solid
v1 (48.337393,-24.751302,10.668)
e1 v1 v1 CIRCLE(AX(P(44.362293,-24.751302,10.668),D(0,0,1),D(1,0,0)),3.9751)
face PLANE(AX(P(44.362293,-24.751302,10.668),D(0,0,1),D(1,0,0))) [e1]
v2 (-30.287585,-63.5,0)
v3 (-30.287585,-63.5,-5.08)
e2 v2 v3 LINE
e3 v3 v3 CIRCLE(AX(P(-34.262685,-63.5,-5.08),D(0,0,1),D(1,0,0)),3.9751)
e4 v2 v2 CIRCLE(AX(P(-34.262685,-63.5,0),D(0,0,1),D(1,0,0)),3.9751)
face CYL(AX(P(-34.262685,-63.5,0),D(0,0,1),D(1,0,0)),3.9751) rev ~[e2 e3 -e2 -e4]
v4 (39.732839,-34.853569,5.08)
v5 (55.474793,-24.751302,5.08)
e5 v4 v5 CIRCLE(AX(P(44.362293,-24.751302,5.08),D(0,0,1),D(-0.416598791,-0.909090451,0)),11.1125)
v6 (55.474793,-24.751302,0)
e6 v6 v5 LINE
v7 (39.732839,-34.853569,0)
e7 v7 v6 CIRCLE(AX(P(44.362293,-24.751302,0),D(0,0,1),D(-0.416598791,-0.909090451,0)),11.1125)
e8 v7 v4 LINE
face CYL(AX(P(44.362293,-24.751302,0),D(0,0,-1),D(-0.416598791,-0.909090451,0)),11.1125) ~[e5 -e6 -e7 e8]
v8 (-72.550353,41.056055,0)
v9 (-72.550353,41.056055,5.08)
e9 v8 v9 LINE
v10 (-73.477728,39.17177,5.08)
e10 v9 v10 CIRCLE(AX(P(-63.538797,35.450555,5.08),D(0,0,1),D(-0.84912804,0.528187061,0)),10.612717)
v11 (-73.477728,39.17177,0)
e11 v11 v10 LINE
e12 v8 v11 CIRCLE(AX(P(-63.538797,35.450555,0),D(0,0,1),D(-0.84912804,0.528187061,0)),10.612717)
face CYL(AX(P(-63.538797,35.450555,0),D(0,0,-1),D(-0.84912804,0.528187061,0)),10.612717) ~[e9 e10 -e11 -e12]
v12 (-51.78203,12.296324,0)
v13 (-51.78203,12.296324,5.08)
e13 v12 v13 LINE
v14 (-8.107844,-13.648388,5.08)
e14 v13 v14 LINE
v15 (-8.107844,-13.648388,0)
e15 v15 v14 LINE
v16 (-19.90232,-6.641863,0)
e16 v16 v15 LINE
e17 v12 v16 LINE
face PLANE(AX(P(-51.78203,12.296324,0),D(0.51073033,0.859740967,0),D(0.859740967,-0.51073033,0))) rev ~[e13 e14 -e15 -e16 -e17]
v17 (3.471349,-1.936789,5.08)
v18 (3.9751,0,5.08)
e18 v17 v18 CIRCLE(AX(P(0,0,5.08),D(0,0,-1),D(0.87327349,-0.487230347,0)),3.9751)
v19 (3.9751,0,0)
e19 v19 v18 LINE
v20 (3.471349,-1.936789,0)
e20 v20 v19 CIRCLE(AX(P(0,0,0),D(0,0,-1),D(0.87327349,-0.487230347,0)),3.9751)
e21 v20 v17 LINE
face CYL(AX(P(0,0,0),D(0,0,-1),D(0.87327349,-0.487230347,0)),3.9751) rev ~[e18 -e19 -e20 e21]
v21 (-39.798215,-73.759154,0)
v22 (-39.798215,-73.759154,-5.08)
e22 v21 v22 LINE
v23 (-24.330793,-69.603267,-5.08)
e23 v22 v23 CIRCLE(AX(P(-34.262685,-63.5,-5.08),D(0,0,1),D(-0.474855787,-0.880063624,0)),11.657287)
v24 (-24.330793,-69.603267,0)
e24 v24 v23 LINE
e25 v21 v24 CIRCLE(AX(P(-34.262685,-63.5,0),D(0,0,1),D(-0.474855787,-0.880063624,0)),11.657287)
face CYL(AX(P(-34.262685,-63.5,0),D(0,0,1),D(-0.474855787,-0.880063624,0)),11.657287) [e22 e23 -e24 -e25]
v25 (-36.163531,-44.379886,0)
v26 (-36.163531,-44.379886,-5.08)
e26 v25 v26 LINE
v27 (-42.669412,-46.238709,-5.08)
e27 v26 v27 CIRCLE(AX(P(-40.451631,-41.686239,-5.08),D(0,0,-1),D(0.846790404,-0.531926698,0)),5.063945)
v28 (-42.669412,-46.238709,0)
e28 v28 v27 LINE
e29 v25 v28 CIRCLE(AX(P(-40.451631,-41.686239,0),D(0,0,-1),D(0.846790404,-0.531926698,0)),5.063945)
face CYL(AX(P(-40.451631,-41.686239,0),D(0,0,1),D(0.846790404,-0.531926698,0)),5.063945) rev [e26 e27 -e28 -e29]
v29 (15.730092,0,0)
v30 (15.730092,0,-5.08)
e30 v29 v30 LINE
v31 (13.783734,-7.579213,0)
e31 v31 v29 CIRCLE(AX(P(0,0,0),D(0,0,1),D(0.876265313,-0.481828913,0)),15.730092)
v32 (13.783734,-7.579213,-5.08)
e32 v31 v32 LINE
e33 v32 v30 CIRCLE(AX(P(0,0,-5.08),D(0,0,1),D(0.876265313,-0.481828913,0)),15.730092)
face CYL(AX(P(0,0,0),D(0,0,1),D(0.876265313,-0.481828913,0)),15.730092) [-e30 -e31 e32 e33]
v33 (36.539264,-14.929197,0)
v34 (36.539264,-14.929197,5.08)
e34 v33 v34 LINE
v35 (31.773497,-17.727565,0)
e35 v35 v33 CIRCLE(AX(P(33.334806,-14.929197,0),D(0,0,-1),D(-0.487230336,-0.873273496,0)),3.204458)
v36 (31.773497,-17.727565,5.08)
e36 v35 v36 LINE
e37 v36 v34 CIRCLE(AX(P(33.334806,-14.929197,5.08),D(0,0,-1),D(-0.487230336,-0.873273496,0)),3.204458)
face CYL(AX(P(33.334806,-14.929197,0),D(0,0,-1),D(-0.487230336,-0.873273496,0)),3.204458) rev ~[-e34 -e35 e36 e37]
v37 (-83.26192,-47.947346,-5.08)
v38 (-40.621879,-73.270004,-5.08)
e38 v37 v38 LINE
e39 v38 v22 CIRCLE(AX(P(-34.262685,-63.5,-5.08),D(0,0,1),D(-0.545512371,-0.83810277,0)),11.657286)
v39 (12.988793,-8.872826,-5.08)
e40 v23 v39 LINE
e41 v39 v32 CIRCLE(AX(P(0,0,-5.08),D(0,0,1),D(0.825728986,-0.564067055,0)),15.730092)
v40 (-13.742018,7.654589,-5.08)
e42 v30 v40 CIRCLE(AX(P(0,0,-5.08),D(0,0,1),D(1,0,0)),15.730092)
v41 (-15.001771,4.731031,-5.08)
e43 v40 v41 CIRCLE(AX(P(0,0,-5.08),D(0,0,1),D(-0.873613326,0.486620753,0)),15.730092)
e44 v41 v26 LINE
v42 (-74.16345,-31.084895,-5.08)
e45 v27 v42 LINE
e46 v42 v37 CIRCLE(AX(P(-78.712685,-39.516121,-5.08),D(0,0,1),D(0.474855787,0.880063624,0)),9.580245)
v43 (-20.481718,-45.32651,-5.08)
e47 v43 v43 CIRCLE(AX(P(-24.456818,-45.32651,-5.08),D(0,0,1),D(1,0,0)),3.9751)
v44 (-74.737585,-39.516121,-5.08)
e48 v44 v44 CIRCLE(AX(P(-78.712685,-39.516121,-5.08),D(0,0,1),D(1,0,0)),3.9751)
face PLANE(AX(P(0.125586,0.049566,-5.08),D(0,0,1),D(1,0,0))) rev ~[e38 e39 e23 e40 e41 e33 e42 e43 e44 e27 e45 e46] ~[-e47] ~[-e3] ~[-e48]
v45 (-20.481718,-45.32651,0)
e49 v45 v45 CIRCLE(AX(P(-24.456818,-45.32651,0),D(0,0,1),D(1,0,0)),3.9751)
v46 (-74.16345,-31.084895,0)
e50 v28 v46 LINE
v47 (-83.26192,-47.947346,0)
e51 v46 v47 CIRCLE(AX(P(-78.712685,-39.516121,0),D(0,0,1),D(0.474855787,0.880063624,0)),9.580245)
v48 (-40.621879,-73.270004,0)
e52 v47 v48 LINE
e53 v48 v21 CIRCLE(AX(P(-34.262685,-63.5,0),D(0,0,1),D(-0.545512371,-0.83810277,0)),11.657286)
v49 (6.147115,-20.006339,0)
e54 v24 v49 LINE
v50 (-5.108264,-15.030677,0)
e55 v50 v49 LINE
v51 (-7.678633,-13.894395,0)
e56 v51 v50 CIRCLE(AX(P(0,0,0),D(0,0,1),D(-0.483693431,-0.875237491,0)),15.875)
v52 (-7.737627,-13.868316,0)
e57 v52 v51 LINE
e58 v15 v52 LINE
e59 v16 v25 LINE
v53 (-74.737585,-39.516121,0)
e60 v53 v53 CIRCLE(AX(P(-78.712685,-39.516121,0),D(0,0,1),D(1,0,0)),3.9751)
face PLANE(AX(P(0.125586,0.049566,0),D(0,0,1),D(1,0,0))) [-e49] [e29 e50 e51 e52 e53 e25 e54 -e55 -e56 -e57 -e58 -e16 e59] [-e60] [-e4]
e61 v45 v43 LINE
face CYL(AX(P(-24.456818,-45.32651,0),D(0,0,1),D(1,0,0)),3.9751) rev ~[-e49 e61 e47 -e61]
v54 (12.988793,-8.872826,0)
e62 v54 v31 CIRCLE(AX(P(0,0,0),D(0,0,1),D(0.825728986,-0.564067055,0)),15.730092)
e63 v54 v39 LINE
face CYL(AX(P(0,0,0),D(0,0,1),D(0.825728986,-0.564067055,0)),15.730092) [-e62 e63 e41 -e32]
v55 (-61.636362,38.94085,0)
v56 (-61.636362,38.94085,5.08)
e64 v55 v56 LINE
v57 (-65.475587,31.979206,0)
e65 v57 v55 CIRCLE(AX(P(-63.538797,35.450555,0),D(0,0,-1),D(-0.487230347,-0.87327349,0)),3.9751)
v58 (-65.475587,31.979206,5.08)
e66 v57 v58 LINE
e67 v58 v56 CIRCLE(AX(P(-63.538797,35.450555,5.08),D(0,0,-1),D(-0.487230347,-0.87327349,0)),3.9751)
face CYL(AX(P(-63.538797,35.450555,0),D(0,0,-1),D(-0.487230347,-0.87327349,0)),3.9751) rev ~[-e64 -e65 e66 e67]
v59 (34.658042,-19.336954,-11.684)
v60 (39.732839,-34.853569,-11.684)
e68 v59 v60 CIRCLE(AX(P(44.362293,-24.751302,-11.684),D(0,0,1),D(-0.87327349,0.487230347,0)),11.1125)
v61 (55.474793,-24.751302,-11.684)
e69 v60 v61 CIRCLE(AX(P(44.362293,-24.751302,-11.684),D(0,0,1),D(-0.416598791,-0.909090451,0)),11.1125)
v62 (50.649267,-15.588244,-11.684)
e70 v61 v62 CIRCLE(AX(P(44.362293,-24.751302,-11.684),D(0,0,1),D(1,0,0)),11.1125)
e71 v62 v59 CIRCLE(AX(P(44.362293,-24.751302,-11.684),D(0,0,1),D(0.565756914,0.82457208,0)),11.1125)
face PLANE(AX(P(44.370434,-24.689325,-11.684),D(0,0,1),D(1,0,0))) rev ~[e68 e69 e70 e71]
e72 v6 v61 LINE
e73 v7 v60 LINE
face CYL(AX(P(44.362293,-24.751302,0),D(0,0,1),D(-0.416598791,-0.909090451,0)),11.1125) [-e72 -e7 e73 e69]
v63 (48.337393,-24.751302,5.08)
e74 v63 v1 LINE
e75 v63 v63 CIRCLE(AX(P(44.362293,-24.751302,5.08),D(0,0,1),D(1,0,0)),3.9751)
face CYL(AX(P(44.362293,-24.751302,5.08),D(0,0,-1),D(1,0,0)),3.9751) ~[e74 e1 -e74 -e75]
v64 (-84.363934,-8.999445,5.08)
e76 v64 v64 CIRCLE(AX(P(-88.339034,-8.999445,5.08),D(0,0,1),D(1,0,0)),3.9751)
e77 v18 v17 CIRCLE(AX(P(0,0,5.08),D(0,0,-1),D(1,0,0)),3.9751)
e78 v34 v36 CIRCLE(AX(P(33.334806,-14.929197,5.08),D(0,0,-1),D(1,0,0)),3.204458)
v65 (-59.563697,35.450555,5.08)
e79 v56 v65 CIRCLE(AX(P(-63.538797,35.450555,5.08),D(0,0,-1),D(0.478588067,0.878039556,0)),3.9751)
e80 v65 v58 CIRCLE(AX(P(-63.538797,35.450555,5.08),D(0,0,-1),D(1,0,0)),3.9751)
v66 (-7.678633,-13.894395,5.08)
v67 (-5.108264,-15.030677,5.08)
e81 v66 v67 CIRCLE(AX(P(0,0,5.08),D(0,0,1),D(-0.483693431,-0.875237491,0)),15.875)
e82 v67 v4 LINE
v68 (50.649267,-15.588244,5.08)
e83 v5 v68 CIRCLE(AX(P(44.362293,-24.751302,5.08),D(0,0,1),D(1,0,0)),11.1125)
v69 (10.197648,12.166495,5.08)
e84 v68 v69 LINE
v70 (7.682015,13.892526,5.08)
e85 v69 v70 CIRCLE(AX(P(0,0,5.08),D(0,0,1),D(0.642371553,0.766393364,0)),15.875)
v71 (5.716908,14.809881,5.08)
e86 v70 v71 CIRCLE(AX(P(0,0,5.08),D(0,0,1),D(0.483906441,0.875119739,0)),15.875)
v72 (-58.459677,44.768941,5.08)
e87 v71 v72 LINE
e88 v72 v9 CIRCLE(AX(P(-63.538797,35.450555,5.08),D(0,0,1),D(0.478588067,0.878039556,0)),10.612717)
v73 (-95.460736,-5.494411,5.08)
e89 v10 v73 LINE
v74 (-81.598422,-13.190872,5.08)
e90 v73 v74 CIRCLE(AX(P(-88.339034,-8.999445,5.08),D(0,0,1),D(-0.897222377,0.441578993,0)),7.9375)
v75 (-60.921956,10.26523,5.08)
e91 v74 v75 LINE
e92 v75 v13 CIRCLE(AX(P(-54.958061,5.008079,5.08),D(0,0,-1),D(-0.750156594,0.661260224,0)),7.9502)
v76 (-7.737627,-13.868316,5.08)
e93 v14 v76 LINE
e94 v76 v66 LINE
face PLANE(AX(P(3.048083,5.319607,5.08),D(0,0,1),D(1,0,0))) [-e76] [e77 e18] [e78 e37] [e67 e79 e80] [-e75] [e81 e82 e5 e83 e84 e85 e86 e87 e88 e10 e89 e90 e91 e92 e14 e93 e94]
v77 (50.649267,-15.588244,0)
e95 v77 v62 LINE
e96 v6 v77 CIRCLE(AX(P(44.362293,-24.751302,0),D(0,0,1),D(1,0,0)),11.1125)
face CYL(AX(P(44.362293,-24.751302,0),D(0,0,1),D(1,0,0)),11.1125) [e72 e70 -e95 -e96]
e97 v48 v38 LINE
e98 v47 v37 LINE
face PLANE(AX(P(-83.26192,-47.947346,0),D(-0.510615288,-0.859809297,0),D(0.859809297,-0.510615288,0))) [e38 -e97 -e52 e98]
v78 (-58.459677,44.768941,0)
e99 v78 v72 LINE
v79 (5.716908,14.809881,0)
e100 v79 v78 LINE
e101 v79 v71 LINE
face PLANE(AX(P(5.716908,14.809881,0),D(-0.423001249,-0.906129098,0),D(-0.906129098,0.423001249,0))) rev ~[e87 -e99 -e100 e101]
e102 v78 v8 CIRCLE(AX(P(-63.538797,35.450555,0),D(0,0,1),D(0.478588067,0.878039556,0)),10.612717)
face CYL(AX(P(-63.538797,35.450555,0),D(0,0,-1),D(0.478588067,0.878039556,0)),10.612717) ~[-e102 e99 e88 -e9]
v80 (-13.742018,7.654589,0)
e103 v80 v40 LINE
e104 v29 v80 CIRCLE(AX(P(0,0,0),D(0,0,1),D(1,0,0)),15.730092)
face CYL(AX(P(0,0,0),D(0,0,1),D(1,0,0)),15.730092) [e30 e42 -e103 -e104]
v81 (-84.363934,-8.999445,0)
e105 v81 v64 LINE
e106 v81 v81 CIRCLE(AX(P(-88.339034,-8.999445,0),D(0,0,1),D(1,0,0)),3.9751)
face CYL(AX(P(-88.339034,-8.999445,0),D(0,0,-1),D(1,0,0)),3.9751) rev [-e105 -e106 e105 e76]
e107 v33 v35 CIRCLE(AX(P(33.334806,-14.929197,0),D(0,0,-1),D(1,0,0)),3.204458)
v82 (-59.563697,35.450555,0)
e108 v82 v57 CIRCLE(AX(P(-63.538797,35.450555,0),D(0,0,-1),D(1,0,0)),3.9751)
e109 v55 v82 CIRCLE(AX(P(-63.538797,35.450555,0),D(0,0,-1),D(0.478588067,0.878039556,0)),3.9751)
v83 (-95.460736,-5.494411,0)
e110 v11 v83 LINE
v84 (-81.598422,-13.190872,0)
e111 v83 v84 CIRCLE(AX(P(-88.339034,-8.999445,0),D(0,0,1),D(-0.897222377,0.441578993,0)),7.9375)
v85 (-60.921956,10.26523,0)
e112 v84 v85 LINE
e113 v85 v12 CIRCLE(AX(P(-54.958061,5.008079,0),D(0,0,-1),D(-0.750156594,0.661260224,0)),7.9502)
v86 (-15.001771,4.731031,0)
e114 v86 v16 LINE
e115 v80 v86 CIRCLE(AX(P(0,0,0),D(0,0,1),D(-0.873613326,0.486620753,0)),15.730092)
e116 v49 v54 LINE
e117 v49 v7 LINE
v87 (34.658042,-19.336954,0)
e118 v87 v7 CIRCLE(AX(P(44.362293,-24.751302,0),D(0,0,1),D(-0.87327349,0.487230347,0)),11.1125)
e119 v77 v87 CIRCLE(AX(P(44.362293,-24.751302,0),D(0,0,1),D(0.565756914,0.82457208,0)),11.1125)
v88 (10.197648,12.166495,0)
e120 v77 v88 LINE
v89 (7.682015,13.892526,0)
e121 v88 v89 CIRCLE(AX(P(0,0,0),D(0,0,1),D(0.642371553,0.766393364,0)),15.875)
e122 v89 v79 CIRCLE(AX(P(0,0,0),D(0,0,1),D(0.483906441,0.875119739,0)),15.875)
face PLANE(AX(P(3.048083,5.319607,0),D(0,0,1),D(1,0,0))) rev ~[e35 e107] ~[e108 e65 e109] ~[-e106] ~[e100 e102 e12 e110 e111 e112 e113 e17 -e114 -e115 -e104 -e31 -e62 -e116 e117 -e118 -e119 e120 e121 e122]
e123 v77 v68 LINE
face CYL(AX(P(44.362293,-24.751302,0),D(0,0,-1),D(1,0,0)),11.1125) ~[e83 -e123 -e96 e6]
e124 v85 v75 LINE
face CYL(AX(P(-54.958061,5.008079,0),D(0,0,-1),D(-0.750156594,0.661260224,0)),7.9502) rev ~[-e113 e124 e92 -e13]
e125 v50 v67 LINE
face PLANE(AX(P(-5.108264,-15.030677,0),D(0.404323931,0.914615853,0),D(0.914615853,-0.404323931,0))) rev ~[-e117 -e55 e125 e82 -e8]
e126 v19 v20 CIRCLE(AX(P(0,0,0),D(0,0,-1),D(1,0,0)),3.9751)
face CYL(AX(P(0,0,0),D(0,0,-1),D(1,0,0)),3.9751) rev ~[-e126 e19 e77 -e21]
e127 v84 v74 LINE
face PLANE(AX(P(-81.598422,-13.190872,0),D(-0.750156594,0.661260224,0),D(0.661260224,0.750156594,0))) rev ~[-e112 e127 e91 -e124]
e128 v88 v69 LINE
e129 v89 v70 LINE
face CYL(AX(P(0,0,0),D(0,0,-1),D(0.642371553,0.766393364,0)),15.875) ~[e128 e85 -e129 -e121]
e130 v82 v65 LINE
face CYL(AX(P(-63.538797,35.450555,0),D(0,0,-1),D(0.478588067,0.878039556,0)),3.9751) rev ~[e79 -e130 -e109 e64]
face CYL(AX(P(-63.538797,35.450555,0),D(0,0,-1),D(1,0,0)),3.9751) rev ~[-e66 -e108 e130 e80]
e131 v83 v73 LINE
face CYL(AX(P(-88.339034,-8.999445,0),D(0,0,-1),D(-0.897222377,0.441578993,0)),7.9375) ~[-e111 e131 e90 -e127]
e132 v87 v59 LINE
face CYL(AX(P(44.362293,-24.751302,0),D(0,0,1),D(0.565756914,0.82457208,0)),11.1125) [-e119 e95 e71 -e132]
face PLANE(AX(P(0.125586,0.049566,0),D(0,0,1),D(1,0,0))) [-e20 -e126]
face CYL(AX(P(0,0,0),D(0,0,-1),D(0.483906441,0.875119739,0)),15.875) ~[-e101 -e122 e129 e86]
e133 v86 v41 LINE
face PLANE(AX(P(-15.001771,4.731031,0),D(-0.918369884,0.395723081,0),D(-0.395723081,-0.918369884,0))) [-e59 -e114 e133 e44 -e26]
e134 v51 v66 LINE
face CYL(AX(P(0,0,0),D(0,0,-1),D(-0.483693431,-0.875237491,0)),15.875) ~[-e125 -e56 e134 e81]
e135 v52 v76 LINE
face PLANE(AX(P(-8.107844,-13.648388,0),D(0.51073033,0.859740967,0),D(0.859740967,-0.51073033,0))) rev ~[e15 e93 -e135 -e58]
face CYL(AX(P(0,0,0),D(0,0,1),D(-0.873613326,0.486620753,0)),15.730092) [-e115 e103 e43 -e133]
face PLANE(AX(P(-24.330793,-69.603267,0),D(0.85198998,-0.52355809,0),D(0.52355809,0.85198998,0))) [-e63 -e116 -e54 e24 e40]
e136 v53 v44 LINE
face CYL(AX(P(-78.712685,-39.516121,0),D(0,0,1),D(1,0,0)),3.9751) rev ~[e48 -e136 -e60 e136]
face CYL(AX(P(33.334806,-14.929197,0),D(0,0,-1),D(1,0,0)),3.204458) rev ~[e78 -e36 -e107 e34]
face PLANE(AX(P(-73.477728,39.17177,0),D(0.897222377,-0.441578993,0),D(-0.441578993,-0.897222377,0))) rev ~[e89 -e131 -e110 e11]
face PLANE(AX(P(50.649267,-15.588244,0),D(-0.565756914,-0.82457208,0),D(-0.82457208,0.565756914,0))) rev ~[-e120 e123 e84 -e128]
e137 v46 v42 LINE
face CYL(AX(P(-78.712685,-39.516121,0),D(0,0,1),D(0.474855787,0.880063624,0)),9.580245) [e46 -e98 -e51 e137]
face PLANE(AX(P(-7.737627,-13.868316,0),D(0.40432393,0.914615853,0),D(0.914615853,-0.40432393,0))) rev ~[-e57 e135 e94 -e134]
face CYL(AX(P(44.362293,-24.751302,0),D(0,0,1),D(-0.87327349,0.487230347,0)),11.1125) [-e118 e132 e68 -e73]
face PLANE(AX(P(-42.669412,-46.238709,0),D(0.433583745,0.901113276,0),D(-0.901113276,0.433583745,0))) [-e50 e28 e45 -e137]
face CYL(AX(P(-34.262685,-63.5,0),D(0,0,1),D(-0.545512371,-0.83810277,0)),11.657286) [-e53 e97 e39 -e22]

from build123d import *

# Parameters (mm, degrees)
F0_R     = 3.9751
F2_DEPTH = 5.08
F1_R     = 3.9751
F3_DEPTH = 5.08
F4_DEPTH = 11.684
F5_R     = 3.9751
F6_DEPTH = 5.588


with BuildPart() as f2:
    # F0 (on Top) → F2 (new body)
    with BuildSketch(Plane.XY):
        with BuildLine():
            ThreePointArc((13.8632166565, -7.7347817639), (15.3638242216, -3.99606435), (15.875, 0))
            ThreePointArc((15.875, 0), (14.3858140768, 6.7129709032), (10.1976483972, 12.1664946541))
            Line((10.1976483972, 12.1664946541), (7.6820147458, 13.8925258483))
            Line((7.6820147458, 13.8925258483), (5.7169083245, 14.809881303))
            ThreePointArc((5.7169083245, 14.809881303), (-5.3948904745, 14.9301969769), (-13.8632166565, 7.7347817639))
            Line((-13.8632166565, 7.7347817639), (-3.4713494508, 1.9367893537))
            ThreePointArc((-3.4713494508, 1.9367893537), (1.0006145132, 3.8471015851), (3.9751, 0))
            ThreePointArc((3.9751, 0), (3.8471015851, -1.0006145132), (3.4713494508, -1.9367893537))
            Line((3.4713494508, -1.9367893537), (13.8632166565, -7.7347817639))
        make_face()
        with BuildLine():
            ThreePointArc((10.1976483972, 12.1664946541), (14.3858140768, 6.7129709032), (15.875, 0))
            ThreePointArc((15.875, 0), (15.3638242216, -3.99606435), (13.8632166565, -7.7347817639))
            Line((13.8632166565, -7.7347817639), (31.7734974812, -17.7275646038))
            Line((31.7734974812, -17.7275646038), (34.6580416412, -19.3369544098))
            ThreePointArc((34.6580416412, -19.3369544098), (41.8260256064, -13.9321056286), (50.6492670067, -15.5882444108))
            Line((50.6492670067, -15.5882444108), (10.1976483972, 12.1664946541))
        make_face()
        with BuildLine():
            ThreePointArc((36.5392641606, -14.9291966376), (34.9573662508, -17.6925006073), (31.7734974812, -17.7275646038))
            ThreePointArc((31.7734974812, -17.7275646038), (31.7122467013, -12.1658926679), (36.5392641606, -14.9291966376))
        make_face(mode=Mode.SUBTRACT)
        with BuildLine():
            Line((7.6820147458, 13.8925258483), (10.1976483972, 12.1664946541))
            ThreePointArc((10.1976483972, 12.1664946541), (8.9813910085, 13.0900817626), (7.6820147458, 13.8925258483))
        make_face()
        with BuildLine():
            Line((31.7734974812, -17.7275646038), (13.8632166565, -7.7347817639))
            ThreePointArc((13.8632166565, -7.7347817639), (5.6982296892, -14.8170780996), (-5.1082641413, -15.0306773787))
            Line((-5.1082641413, -15.0306773787), (39.7328392371, -34.8535692773))
            ThreePointArc((39.7328392371, -34.8535692773), (33.8003278503, -28.2056528245), (34.6580416412, -19.3369544098))
            Line((34.6580416412, -19.3369544098), (31.7734974812, -17.7275646038))
        make_face()
        with BuildLine():
            ThreePointArc((-5.1082641413, -15.0306773787), (5.6982296892, -14.8170780996), (13.8632166565, -7.7347817639))
            Line((13.8632166565, -7.7347817639), (3.4713494508, -1.9367893537))
            ThreePointArc((3.4713494508, -1.9367893537), (-1.9367893537, -3.4713494508), (-3.4713494508, 1.9367893537))
            Line((-3.4713494508, 1.9367893537), (-13.8632166565, 7.7347817639))
            ThreePointArc((-13.8632166565, 7.7347817639), (-15.3294442901, -4.1259862767), (-8.1078440126, -13.648387834))
            ThreePointArc((-8.1078440126, -13.648387834), (-7.8941969638, -13.7730635407), (-7.6786332134, -13.894395164))
            Line((-7.6786332134, -13.894395164), (-5.1082641413, -15.0306773787))
        make_face()
        with BuildLine():
            Line((5.7169083245, 14.809881303), (7.6820147458, 13.8925258483))
            ThreePointArc((7.6820147458, 13.8925258483), (6.7151448323, 14.3847994383), (5.7169083245, 14.809881303))
        make_face()
        with BuildLine():
            ThreePointArc((55.4747933007, -24.7513016446), (54.1946798767, -19.573287501), (50.6492670067, -15.5882444108))
            ThreePointArc((50.6492670067, -15.5882444108), (41.8260256064, -13.9321056286), (34.6580416412, -19.3369544098))
            ThreePointArc((34.6580416412, -19.3369544098), (33.8003278503, -28.2056528245), (39.7328392371, -34.8535692773))
            ThreePointArc((39.7328392371, -34.8535692773), (50.3640783672, -34.103639976), (55.4747933007, -24.7513016446))
        make_face()
        with BuildLine():
            ThreePointArc((-7.6786332134, -13.894395164), (-6.4186424038, -14.519526669), (-5.1082641413, -15.0306773787))
            Line((-5.1082641413, -15.0306773787), (-7.6786332134, -13.894395164))
        make_face()
        with BuildLine():
            ThreePointArc((-13.8632166565, 7.7347817639), (-5.3948904745, 14.9301969769), (5.7169083245, 14.809881303))
            Line((5.7169083245, 14.809881303), (-58.4596772524, 44.7689411315))
            ThreePointArc((-58.4596772524, 44.7689411315), (-54.4137482289, 40.8693424861), (-52.9260797167, 35.4505553842))
            ThreePointArc((-52.9260797167, 35.4505553842), (-53.26780974, 32.7791158887), (-54.2709923631, 30.2797173587))
            Line((-54.2709923631, 30.2797173587), (-13.8632166565, 7.7347817639))
        make_face()
        with BuildLine():
            Line((-7.7376268055, -13.8683158861), (-7.6786332134, -13.894395164))
            ThreePointArc((-7.6786332134, -13.894395164), (-7.8941969638, -13.7730635407), (-8.1078440126, -13.648387834))
            Line((-8.1078440126, -13.648387834), (-7.7376268055, -13.8683158861))
        make_face()
        with BuildLine():
            ThreePointArc((-8.1078440126, -13.648387834), (-15.3294442901, -4.1259862767), (-13.8632166565, 7.7347817639))
            Line((-13.8632166565, 7.7347817639), (-54.2709923631, 30.2797173587))
            ThreePointArc((-54.2709923631, 30.2797173587), (-60.6418041852, 25.2408931053), (-68.7096352252, 26.1827505475))
            Line((-68.7096352252, 26.1827505475), (-84.4716426501, -2.0678362876))
            ThreePointArc((-84.4716426501, -2.0678362876), (-81.4942792861, -4.9803345698), (-80.4015335321, -8.9994446158))
            ThreePointArc((-80.4015335321, -8.9994446158), (-80.7066188645, -11.1789290943), (-81.5984223741, -13.1908724713))
            Line((-81.5984223741, -13.1908724713), (-60.9219558537, 10.2652302012))
            ThreePointArc((-60.9219558537, 10.2652302012), (-56.6827002782, 12.7689617881), (-51.7820296359, 12.2963235016))
            Line((-51.7820296359, 12.2963235016), (-8.1078440126, -13.648387834))
        make_face()
        with BuildLine():
            Line((-61.636361774, 38.9408504234), (-58.4596772524, 44.7689411315))
            ThreePointArc((-58.4596772524, 44.7689411315), (-66.2429409396, 45.7129809751), (-72.5503531982, 41.0560554387))
            Line((-72.5503531982, 41.0560554387), (-73.4777276016, 39.1717695464))
            ThreePointArc((-73.4777276016, 39.1717695464), (-73.5014740047, 31.7933921044), (-68.7096352252, 26.1827505475))
            Line((-68.7096352252, 26.1827505475), (-65.4755865534, 31.9792059334))
            ThreePointArc((-65.4755865534, 31.9792059334), (-67.0196618264, 37.3701911466), (-61.636361774, 38.9408504234))
        make_face()
        with BuildLine():
            ThreePointArc((-52.9260797167, 35.4505553842), (-54.4137482289, 40.8693424861), (-58.4596772524, 44.7689411315))
            Line((-58.4596772524, 44.7689411315), (-61.636361774, 38.9408504234))
            ThreePointArc((-61.636361774, 38.9408504234), (-60.1209183933, 37.4802165565), (-59.5636971997, 35.4505553842))
            ThreePointArc((-59.5636971997, 35.4505553842), (-61.5260268887, 32.0227024578), (-65.4755865534, 31.9792059334))
            Line((-65.4755865534, 31.9792059334), (-68.7096352252, 26.1827505475))
            ThreePointArc((-68.7096352252, 26.1827505475), (-60.6418041852, 25.2408931053), (-54.2709923631, 30.2797173587))
            ThreePointArc((-54.2709923631, 30.2797173587), (-53.26780974, 32.7791158887), (-52.9260797167, 35.4505553842))
        make_face()
        with BuildLine():
            Line((-73.4777276016, 39.1717695464), (-72.5503531982, 41.0560554387))
            ThreePointArc((-72.5503531982, 41.0560554387), (-73.0607648028, 40.1369084802), (-73.4777276016, 39.1717695464))
        make_face()
        with BuildLine():
            Line((-84.4716426501, -2.0678362876), (-68.7096352252, 26.1827505475))
            ThreePointArc((-68.7096352252, 26.1827505475), (-73.5014740047, 31.7933921044), (-73.4777276016, 39.1717695464))
            Line((-73.4777276016, 39.1717695464), (-95.4607361469, -5.4944113612))
            ThreePointArc((-95.4607361469, -5.4944113612), (-90.7018687776, -1.4217856203), (-84.4716426501, -2.0678362876))
        make_face()
        with BuildLine():
            ThreePointArc((-80.4015335321, -8.9994446158), (-81.4942792861, -4.9803345698), (-84.4716426501, -2.0678362876))
            ThreePointArc((-84.4716426501, -2.0678362876), (-90.7018687776, -1.4217856203), (-95.4607361469, -5.4944113612))
            ThreePointArc((-95.4607361469, -5.4944113612), (-92.1919786497, -15.9390930342), (-81.5984223741, -13.1908724713))
            ThreePointArc((-81.5984223741, -13.1908724713), (-80.7066188645, -11.1789290943), (-80.4015335321, -8.9994446158))
        make_face()
        with Locations((-88.3390335321, -8.9994446158)):
            Circle(F0_R, mode=Mode.SUBTRACT)
    extrude(amount=F2_DEPTH)

    # F1 (on Top) → F3 (join)
    with BuildSketch(Plane.XY):
        with BuildLine():
            ThreePointArc((13.783733636, -7.5792129349), (15.2357338896, -3.9125687862), (15.7300915973, 0))
            ThreePointArc((15.7300915973, 0), (3.9542752536, 15.2249626889), (-13.7420176329, 7.6545890181))
            Line((-13.7420176329, 7.6545890181), (-15.0017707782, 4.7310310903))
            ThreePointArc((-15.0017707782, 4.7310310903), (-6.8759912191, -14.1476685859), (12.9887925768, -8.8728264413))
            Line((12.9887925768, -8.8728264413), (13.783733636, -7.5792129349))
        make_face()
        with BuildLine():
            Line((-15.0017707782, 4.7310310903), (-13.7420176329, 7.6545890181))
            ThreePointArc((-13.7420176329, 7.6545890181), (-14.4460423921, 6.2247603058), (-15.0017707782, 4.7310310903))
        make_face()
        with BuildLine():
            ThreePointArc((12.9887925768, -8.8728264413), (13.4018804251, -8.2356167183), (13.783733636, -7.5792129349))
            Line((13.783733636, -7.5792129349), (12.9887925768, -8.8728264413))
        make_face()
        with BuildLine():
            ThreePointArc((12.9887925768, -8.8728264413), (-6.8759912191, -14.1476685859), (-15.0017707782, 4.7310310903))
            Line((-15.0017707782, 4.7310310903), (-36.1635312438, -44.3798862398))
            ThreePointArc((-36.1635312438, -44.3798862398), (-39.06045855, -46.5553430524), (-42.6694117486, -46.2387092412))
            Line((-42.6694117486, -46.2387092412), (-74.1634497839, -31.0848952742))
            ThreePointArc((-74.1634497839, -31.0848952742), (-70.4857810686, -34.6070314802), (-69.1324393881, -39.5161206961))
            ThreePointArc((-69.1324393881, -39.5161206961), (-73.803595504, -47.7430243474), (-83.2619196558, -47.947346118))
            Line((-83.2619196558, -47.947346118), (-40.6218787266, -73.2700041298))
            ThreePointArc((-40.6218787266, -73.2700041298), (-39.8197245124, -53.2524813805), (-22.6053981954, -63.5))
            ThreePointArc((-22.6053981954, -63.5), (-23.0450371975, -66.6712321227), (-24.3307934072, -69.6032666718))
            Line((-24.3307934072, -69.6032666718), (12.9887925768, -8.8728264413))
        make_face()
        with Locations((-24.4568177487, -45.3265101594)):
            Circle(F1_R, mode=Mode.SUBTRACT)
        with BuildLine():
            ThreePointArc((-39.7982146858, -73.7591538203), (-31.2378131903, -74.7579963289), (-24.3307934072, -69.6032666718))
            ThreePointArc((-24.3307934072, -69.6032666718), (-23.0450371975, -66.6712321227), (-22.6053981954, -63.5))
            ThreePointArc((-22.6053981954, -63.5), (-39.8197245124, -53.2524813805), (-40.6218787266, -73.2700041298))
            Line((-40.6218787266, -73.2700041298), (-39.7982146858, -73.7591538203))
        make_face()
        with Locations((-34.2626847198, -63.5)):
            Circle(F1_R, mode=Mode.SUBTRACT)
        with BuildLine():
            ThreePointArc((-40.6218787266, -73.2700041298), (-40.215073438, -73.5230433333), (-39.7982146858, -73.7591538203))
            Line((-39.7982146858, -73.7591538203), (-40.6218787266, -73.2700041298))
        make_face()
        with BuildLine():
            ThreePointArc((-69.1324393881, -39.5161206961), (-70.4857810686, -34.6070314802), (-74.1634497839, -31.0848952742))
            ThreePointArc((-74.1634497839, -31.0848952742), (-87.1439101417, -34.9668857602), (-83.2619196558, -47.947346118))
            ThreePointArc((-83.2619196558, -47.947346118), (-73.803595504, -47.7430243474), (-69.1324393881, -39.5161206961))
        make_face()
        with Locations((-78.7126847198, -39.5161206961)):
            Circle(F1_R, mode=Mode.SUBTRACT)
    extrude(amount=-F3_DEPTH)

    # F0 (on Top) → F4 (join)
    with BuildSketch(Plane.XY):
        with BuildLine():
            ThreePointArc((55.4747933007, -24.7513016446), (54.1946798767, -19.573287501), (50.6492670067, -15.5882444108))
            ThreePointArc((50.6492670067, -15.5882444108), (41.8260256064, -13.9321056286), (34.6580416412, -19.3369544098))
            ThreePointArc((34.6580416412, -19.3369544098), (33.8003278503, -28.2056528245), (39.7328392371, -34.8535692773))
            ThreePointArc((39.7328392371, -34.8535692773), (50.3640783672, -34.103639976), (55.4747933007, -24.7513016446))
        make_face()
    extrude(amount=-F4_DEPTH)

    # F5 (on face) → F6 (join)
    with BuildSketch(Plane.XY.offset(5.08)):
        with Locations((44.3622933007, -24.7513016446)):
            Circle(F5_R)
    extrude(amount=F6_DEPTH)


solid = f2.part
